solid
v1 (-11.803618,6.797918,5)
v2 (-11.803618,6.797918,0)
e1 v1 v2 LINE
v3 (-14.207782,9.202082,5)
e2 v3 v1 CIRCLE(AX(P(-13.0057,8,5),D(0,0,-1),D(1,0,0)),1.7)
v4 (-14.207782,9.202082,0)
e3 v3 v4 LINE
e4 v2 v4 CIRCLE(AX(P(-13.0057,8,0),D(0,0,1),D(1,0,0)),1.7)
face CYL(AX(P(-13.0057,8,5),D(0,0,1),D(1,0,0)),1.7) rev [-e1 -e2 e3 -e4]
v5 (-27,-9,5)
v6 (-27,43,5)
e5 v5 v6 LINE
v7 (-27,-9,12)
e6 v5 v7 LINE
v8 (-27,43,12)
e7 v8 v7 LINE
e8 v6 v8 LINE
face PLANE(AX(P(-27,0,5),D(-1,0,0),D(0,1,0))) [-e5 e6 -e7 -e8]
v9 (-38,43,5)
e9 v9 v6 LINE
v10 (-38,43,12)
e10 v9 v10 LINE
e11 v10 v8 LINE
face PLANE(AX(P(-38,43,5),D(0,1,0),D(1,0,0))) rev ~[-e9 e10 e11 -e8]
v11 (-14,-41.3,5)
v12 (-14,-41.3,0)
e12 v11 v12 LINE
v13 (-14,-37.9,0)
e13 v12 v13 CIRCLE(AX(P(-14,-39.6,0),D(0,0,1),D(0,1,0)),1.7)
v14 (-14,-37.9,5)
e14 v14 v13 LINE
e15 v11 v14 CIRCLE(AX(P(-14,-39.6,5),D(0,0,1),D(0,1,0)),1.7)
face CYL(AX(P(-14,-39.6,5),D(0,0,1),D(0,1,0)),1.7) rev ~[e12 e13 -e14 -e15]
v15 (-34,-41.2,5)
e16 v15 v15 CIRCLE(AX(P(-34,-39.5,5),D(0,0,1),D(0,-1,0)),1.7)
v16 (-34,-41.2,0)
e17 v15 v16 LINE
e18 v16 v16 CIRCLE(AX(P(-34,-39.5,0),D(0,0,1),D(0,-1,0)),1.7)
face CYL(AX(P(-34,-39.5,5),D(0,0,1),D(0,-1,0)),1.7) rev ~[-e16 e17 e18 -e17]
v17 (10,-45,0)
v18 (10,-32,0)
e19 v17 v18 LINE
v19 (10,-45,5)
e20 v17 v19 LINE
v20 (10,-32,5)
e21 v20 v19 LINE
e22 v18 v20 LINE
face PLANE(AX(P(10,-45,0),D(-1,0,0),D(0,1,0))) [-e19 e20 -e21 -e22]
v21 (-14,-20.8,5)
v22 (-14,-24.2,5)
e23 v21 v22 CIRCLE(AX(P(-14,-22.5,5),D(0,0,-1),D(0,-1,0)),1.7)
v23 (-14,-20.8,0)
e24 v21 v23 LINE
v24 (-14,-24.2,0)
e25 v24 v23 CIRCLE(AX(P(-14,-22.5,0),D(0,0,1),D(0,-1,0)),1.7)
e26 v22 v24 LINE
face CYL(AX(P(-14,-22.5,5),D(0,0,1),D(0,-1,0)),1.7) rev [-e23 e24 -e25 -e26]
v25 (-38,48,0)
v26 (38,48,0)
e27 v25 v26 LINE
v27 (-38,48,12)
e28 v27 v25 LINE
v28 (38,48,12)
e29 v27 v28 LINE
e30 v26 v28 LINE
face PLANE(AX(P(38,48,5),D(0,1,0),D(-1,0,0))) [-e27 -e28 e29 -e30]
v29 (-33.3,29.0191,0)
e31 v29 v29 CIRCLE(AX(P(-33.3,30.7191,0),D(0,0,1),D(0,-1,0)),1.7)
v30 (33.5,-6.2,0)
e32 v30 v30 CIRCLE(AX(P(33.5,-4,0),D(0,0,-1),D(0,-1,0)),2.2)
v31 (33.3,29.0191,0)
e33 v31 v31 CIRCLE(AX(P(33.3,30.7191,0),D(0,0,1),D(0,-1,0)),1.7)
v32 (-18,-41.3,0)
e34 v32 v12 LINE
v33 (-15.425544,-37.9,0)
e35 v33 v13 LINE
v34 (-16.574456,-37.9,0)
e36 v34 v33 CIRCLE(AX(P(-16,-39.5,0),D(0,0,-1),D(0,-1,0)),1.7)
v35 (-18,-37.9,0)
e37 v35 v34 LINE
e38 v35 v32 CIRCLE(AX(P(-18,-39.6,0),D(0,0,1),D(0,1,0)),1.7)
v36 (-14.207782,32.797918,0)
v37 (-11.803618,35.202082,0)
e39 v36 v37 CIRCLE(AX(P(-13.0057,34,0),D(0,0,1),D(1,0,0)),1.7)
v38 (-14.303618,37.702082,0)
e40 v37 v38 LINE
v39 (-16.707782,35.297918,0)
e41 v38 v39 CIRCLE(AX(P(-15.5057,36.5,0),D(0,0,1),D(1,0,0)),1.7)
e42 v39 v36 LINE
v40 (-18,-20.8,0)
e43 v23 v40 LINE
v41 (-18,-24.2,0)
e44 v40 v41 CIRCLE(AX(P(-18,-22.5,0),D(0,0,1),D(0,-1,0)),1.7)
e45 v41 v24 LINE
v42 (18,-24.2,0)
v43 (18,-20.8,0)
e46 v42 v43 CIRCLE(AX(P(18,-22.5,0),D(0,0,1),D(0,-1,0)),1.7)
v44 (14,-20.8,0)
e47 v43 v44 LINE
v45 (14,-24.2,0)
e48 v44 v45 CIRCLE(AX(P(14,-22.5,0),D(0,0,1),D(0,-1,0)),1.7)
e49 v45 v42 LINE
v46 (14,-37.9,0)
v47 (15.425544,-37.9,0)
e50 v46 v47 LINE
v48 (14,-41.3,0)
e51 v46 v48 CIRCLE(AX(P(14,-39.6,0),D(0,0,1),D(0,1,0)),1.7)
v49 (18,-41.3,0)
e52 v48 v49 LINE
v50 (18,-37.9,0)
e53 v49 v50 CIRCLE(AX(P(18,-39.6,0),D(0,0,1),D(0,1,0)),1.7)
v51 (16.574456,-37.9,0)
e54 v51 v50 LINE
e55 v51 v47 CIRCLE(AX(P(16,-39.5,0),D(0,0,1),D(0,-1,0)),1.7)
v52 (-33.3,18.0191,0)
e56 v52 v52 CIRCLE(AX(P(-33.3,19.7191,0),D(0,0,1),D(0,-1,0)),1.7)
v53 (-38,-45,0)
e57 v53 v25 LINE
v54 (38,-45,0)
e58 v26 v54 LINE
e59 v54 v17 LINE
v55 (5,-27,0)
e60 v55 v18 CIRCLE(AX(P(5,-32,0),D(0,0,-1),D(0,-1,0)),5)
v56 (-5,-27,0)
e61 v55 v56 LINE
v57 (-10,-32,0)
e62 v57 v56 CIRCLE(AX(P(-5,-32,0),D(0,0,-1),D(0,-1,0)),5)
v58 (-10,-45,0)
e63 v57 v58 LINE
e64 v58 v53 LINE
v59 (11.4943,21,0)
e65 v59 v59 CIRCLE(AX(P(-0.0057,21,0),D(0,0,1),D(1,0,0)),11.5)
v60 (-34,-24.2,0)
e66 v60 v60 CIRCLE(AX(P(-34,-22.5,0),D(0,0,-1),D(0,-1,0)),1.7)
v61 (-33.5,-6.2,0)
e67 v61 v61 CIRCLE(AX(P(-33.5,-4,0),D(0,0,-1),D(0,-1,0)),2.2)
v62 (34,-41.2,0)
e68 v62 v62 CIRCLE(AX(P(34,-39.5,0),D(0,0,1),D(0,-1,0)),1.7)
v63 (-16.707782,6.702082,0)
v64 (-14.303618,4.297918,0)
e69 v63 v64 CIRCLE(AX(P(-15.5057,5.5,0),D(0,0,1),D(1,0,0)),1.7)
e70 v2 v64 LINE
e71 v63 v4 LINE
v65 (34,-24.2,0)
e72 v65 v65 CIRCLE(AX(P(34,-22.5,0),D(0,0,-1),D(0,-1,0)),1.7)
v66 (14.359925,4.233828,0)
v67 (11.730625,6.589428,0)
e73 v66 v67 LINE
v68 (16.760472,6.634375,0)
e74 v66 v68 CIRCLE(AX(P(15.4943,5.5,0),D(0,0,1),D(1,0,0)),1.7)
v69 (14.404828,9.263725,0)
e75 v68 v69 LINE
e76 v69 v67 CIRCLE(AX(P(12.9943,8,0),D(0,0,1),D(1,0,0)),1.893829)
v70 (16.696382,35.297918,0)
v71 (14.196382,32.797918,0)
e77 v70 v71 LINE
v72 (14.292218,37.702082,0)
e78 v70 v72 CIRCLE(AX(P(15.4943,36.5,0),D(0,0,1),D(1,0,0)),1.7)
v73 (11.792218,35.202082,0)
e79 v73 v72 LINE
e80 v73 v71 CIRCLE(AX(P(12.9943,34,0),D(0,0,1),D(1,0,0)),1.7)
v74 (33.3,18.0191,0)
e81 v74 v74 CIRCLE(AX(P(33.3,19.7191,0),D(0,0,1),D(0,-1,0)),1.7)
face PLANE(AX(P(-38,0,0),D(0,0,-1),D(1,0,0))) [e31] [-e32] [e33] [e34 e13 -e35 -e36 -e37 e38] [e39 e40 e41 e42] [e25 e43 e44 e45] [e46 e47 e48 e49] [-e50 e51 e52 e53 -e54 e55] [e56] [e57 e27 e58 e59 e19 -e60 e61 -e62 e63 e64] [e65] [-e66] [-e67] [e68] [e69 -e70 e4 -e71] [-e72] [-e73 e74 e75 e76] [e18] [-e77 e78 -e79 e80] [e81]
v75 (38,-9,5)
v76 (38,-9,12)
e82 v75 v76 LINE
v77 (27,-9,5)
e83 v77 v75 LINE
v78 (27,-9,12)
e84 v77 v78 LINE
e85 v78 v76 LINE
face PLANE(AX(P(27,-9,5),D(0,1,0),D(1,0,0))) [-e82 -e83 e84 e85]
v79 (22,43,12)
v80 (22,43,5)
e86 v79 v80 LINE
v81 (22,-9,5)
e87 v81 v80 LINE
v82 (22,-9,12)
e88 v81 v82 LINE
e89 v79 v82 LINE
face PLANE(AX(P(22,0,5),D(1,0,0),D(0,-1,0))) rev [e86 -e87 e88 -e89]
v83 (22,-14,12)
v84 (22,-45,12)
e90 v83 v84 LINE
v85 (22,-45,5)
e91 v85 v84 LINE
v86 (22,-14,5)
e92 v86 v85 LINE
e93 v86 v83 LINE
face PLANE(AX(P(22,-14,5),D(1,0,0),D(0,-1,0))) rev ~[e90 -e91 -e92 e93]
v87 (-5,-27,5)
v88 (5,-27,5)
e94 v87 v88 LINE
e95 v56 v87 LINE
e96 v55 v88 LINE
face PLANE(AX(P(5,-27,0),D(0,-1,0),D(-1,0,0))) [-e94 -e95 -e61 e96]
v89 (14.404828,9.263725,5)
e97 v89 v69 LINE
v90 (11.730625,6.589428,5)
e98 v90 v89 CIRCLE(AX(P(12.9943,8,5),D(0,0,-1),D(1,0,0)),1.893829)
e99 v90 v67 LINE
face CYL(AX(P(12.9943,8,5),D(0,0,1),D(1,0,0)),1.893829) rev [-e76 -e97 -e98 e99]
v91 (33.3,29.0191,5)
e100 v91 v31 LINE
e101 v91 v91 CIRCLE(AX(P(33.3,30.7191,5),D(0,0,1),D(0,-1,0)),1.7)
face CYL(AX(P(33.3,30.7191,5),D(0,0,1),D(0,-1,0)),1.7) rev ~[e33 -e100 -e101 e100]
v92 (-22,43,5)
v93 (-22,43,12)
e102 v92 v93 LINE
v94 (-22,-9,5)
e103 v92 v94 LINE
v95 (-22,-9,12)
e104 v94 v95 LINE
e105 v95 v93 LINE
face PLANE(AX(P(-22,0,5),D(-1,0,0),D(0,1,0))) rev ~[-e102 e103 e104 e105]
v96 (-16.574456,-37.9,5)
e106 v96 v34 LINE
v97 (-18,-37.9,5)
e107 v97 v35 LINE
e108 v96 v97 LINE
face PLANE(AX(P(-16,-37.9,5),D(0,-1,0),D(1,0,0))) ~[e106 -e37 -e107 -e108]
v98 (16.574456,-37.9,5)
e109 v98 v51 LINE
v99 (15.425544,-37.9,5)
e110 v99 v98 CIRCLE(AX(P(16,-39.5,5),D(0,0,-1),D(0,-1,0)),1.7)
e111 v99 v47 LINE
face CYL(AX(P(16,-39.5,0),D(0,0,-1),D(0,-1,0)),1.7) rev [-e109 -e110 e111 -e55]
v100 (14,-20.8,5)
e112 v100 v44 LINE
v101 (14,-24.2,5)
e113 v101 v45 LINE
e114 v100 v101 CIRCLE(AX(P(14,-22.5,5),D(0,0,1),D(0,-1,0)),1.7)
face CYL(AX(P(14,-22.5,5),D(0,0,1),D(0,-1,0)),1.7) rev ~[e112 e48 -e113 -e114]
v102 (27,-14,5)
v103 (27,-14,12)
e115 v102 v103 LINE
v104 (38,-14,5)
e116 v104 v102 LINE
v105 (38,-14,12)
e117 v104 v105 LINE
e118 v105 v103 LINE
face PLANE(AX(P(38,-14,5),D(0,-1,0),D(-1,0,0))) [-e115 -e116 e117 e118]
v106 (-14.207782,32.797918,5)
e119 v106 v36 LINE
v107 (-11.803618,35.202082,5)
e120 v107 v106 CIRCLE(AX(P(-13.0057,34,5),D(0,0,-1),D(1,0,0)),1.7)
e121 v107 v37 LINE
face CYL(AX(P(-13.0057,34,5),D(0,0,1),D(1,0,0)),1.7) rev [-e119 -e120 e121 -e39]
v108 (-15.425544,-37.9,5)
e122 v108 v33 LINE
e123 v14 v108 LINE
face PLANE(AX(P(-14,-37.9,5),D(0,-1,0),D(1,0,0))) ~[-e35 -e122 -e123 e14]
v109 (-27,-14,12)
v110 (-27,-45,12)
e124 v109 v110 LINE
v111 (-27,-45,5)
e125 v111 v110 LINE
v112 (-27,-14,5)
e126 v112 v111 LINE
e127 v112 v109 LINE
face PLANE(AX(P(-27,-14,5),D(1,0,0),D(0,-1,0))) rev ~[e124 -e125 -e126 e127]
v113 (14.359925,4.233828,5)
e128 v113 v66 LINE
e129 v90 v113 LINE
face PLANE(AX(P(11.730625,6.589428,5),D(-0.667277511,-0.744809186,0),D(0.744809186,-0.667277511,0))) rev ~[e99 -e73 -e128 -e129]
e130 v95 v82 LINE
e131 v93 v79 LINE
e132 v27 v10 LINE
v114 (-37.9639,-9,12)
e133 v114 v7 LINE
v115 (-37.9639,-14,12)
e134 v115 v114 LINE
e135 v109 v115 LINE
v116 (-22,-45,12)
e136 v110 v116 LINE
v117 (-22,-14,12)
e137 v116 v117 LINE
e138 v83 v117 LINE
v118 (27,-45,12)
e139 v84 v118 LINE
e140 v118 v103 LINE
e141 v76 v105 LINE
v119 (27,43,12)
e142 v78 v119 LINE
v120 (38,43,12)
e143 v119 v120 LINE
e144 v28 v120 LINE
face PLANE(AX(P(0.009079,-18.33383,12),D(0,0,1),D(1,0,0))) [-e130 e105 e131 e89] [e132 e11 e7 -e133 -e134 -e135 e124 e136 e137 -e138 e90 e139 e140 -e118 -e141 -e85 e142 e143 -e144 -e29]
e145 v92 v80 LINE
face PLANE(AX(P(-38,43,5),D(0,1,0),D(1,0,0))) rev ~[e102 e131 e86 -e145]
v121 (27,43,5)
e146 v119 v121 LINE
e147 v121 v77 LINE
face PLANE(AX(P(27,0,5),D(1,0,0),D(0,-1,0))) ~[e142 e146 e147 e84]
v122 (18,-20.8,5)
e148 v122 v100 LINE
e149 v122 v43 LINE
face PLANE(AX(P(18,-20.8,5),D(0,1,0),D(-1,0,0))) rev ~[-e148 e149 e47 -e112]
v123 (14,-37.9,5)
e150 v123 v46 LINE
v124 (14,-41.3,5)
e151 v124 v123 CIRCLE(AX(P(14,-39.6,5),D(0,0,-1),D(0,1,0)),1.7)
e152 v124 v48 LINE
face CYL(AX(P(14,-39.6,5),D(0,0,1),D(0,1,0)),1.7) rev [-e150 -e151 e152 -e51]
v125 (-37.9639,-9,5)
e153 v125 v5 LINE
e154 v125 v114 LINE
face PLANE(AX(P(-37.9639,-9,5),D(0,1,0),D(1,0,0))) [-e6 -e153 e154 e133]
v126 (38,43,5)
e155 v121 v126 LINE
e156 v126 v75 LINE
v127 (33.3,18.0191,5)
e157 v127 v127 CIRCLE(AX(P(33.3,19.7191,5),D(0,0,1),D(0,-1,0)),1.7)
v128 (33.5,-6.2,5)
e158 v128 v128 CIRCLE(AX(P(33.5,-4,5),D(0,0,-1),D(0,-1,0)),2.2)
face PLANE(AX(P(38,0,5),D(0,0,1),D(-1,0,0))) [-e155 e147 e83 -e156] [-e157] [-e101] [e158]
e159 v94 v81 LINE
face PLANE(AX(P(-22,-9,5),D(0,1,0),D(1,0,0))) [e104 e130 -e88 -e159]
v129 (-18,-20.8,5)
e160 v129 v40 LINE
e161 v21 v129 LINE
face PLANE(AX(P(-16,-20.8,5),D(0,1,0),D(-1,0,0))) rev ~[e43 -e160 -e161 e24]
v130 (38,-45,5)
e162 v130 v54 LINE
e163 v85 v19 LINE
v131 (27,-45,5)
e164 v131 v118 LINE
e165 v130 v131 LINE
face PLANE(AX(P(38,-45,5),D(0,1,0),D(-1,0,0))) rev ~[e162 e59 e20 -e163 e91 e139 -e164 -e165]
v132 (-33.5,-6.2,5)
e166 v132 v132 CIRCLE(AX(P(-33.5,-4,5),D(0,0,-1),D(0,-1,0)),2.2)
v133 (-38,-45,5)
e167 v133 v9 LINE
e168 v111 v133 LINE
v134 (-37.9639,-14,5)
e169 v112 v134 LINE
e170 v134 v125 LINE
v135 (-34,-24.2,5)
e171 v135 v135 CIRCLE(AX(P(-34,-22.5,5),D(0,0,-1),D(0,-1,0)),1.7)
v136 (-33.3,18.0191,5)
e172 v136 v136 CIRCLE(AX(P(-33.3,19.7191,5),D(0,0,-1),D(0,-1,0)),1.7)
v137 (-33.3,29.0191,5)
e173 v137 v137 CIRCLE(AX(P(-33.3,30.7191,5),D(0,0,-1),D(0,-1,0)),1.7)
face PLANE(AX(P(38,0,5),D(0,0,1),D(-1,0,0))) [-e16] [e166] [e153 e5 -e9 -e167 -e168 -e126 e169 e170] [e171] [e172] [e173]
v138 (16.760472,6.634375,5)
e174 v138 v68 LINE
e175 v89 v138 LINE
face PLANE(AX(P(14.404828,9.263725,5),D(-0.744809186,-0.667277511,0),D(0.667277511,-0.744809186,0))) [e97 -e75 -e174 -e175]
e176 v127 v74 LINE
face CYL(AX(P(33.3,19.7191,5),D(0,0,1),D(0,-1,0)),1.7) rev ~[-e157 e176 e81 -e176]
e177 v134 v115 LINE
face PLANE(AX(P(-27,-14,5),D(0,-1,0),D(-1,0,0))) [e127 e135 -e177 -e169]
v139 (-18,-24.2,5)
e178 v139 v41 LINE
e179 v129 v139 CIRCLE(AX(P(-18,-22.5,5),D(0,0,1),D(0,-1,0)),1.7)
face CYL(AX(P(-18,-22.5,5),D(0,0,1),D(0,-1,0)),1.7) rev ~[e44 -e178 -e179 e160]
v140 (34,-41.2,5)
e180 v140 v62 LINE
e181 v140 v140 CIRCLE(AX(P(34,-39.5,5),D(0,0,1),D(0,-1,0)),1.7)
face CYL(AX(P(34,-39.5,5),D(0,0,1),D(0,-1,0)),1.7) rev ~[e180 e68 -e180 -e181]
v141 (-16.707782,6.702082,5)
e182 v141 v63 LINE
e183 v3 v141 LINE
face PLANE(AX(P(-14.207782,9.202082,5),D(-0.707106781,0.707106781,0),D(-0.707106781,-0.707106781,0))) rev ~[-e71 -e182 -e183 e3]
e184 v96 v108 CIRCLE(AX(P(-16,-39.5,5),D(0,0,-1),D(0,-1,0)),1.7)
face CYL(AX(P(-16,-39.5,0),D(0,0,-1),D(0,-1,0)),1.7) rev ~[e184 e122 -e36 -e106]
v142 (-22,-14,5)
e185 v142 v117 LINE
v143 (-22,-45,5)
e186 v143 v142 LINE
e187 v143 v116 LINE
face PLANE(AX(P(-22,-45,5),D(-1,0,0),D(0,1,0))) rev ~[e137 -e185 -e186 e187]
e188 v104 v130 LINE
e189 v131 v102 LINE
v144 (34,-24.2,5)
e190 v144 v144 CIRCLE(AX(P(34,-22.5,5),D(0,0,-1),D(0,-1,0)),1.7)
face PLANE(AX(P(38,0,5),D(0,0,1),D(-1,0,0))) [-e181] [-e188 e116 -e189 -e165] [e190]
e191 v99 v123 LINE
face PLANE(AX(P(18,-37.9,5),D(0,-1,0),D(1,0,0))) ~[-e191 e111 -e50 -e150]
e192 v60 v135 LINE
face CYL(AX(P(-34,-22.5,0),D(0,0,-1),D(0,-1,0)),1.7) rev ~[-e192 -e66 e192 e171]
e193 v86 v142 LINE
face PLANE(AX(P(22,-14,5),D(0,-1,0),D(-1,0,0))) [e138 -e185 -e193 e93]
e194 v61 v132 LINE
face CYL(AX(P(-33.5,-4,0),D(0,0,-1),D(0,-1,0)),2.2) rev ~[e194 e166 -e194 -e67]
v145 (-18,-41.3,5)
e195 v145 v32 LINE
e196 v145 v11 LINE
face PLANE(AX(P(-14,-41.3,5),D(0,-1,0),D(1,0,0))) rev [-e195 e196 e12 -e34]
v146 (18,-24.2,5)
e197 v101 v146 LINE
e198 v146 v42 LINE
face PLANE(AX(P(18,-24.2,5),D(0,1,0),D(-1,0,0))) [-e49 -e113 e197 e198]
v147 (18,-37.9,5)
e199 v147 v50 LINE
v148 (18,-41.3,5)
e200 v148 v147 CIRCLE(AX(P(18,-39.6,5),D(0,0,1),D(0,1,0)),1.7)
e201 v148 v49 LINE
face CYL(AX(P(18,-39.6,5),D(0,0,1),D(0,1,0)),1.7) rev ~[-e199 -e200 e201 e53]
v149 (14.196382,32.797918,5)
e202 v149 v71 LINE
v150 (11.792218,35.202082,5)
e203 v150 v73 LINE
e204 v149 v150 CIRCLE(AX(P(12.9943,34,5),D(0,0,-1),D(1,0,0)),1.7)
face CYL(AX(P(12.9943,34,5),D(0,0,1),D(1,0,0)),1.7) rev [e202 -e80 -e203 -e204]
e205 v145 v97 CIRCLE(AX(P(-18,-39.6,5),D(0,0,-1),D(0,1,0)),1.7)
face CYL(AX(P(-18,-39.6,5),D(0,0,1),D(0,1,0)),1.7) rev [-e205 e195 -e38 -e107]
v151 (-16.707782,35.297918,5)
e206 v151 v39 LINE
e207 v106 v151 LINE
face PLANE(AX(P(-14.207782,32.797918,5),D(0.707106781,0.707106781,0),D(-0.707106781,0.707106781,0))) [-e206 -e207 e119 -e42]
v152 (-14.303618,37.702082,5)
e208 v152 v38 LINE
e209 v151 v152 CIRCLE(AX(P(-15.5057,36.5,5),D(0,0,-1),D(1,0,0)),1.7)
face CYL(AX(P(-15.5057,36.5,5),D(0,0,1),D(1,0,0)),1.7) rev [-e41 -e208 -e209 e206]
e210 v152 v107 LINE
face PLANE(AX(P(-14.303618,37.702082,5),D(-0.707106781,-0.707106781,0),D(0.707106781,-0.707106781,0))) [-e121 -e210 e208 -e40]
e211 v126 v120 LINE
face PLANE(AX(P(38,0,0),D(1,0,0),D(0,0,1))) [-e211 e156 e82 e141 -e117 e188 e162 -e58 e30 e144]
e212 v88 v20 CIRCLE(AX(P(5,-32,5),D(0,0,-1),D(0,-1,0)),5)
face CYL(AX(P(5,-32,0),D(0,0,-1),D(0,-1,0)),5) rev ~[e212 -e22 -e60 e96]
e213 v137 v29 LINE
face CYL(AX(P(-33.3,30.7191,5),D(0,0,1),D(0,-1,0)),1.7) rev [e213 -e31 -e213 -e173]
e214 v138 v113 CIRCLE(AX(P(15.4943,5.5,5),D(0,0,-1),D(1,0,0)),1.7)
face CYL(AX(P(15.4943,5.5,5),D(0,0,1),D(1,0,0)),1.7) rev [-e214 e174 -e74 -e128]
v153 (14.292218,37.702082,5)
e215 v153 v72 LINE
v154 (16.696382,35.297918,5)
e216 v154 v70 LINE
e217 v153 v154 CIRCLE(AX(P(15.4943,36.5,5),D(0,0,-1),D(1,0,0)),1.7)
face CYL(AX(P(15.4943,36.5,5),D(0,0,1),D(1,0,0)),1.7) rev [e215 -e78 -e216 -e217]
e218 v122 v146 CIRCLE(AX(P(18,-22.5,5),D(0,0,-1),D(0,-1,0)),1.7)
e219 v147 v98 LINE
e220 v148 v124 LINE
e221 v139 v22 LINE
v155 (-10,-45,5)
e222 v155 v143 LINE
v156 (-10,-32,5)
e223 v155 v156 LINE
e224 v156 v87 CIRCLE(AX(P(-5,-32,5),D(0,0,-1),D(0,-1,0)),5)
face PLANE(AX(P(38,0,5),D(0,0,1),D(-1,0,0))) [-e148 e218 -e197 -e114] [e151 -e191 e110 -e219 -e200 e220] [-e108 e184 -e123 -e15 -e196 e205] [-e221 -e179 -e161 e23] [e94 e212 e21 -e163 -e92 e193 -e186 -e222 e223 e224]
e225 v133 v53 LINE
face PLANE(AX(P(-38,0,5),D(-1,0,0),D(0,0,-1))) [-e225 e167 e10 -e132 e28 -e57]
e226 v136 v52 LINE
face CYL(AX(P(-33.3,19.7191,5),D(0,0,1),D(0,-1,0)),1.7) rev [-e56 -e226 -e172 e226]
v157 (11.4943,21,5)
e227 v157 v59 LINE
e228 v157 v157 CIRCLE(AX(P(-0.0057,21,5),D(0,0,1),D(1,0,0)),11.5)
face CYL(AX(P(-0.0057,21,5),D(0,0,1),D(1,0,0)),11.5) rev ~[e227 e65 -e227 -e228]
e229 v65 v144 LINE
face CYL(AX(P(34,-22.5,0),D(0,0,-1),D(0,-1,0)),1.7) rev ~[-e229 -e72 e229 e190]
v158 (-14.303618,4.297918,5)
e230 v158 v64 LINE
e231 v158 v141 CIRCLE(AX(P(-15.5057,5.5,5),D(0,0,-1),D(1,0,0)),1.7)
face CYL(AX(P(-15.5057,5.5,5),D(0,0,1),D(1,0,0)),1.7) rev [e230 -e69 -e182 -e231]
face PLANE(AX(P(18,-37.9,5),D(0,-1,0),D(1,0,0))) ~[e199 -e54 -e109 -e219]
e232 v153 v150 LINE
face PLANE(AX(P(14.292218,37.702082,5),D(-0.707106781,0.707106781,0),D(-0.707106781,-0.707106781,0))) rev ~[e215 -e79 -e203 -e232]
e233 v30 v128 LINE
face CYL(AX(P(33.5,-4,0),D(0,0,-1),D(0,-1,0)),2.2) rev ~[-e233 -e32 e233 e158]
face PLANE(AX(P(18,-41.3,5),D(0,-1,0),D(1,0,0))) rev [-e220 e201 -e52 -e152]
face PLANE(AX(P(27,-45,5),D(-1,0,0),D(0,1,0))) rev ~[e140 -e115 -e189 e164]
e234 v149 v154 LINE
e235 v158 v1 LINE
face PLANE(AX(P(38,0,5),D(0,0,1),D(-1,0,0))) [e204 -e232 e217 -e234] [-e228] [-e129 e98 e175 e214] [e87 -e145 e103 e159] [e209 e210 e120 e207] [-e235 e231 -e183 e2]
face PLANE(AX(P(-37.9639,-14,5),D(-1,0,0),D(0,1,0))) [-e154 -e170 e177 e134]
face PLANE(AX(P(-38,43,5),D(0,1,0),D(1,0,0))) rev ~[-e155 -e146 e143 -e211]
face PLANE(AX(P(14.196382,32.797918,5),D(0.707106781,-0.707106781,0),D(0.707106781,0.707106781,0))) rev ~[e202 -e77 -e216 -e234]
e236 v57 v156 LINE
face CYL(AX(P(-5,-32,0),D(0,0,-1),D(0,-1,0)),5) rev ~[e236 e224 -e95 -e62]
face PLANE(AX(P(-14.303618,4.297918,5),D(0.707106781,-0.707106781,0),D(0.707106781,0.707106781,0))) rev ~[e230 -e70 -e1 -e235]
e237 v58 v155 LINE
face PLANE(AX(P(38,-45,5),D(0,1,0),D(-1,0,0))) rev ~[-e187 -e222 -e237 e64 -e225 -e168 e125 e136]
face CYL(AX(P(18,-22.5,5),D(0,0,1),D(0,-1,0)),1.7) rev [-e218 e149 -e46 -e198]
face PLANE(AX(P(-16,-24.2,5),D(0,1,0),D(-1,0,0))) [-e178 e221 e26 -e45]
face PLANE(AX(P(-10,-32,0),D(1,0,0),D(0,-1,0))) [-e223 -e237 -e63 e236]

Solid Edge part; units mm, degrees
sketch "Sketch1" plane through (0, 0, 0) normal (0, -1, 0) x (1, 0, 0)
  line L0 (-38, 0) -> (38, 0)
  line L1 (38, 0) -> (38, 5)
  line L2 (38, 5) -> (-38, 5)
  line L3 (-38, 5) -> (-38, 0)
  dimension "D1" = 72
  dimension "D2" = 5
  dimension "D3" = 76
extrude "Protrusion1" add sketch "Sketch1" against normal blind 62
sketch "Sketch2" plane through (0, 30, 5) normal (0, 0, 1) x (-1, 0, 0)
  circle A0 centre (-12.5, -23) radius 2.2
  circle A1 centre (12.5, -23) radius 2.2
  circle A2 centre (33.5, -23) radius 2.2
  circle A3 centre (-33.5, -23) radius 2.2
  dimension "D1" = 4.4
  dimension "D2" = 4.4
  dimension "D3" = 4.4
  dimension "D4" = 4.4
extrude "ExtrudedCutout_3" cut sketch "Sketch2" against normal blind 110
sketch "Sketch3" plane through (0, 30, 5) normal (0, 0, 1) x (0, 1, 0)
  line L0 (-30, 22) -> (32, 22)
  line L1 (32, 22) -> (32, 27)
  line L2 (-30, 27) -> (32, 27)
  line L3 (-30, 22) -> (-30, 27)
  dimension "D1" = 1
  dimension "D2" = 5
extrude "ExtrudedProtrusion_4" add sketch "Sketch3" along normal blind 5
mirror "Mirror1" about plane through (0, 0, 0) normal (1, 0, 0) of "ExtrudedProtrusion_4"
sketch "Sketch4" plane through (0, 30, 5) normal (0, 0, 1) x (-1, 0, 0)
  line L0 (38, -13) -> (-38, -13)
  line L1 (-38, -18) -> (-38, -13)
  line L2 (38, -18) -> (-38, -18)
  line L3 (38, -18) -> (38, -13)
  dimension "D1" = 1
  dimension "D2" = 5
extrude "ExtrudedProtrusion_6" add sketch "Sketch4" along normal blind 7
sketch "Sketch5" plane through (0, 21.5, 5) normal (0, 0, 1) x (1, 0, 0)
  line L0 (-14.3036, 16.2021) -> (-11.8036, 13.7021)
  arc A0 (-11.8036, 13.7021) -> (-14.2078, 11.2979) centre (-13.0057, 12.5) cw
  line L1 (-14.2078, 11.2979) -> (-16.7078, 13.7979)
  arc A1 (-16.7078, 13.7979) -> (-14.3036, 16.2021) centre (-15.5057, 15) cw
  line L2 (-14.2078, -12.2979) -> (-16.7078, -14.7979)
  arc A2 (-14.3036, -17.2021) -> (-16.7078, -14.7979) centre (-15.5057, -16) cw
  line L3 (-14.3036, -17.2021) -> (-11.8036, -14.7021)
  arc A3 (-14.2078, -12.2979) -> (-11.8036, -14.7021) centre (-13.0057, -13.5) cw
  line L4 (11.7306, -14.9106) -> (14.3599, -17.2662)
  arc A4 (16.7605, -14.8656) -> (14.3599, -17.2662) centre (15.4943, -16) cw
  line L5 (14.4048, -12.2363) -> (16.7605, -14.8656)
  arc A5 (11.7306, -14.9106) -> (14.4048, -12.2363) centre (12.9943, -13.5) cw
  line L6 (14.2922, 16.2021) -> (11.7922, 13.7021)
  arc A6 (14.1964, 11.2979) -> (11.7922, 13.7021) centre (12.9943, 12.5) cw
  line L7 (14.1964, 11.2979) -> (16.6964, 13.7979)
  arc A7 (14.2922, 16.2021) -> (16.6964, 13.7979) centre (15.4943, 15) cw
  circle A8 centre (-0.0057, -0.5) radius 11.5
  dimension "D1" = 23
  dimension "D2" = 12
  dimension "D3" = 16
  dimension "D4" = 15.5
  dimension "D5" = 3.4
  dimension "D6" = 3.4
  dimension "D7" = 3.4
  dimension "D8" = 3.4
  dimension "D9" = 42
  dimension "D10" = 42
extrude "Cutout1" cut sketch "Sketch5" against normal through all
sketch "Sketch6" plane through (32.5, 21.5, 5) normal (0, 0, 1) x (0, -1, 0)
  line L0 (21.5, 5.5) -> (66.5, 5.5)
  line L1 (66.5, 5.5) -> (66.5, -70.5)
  line L2 (66.5, -70.5) -> (21.5, -70.5)
  line L3 (21.5, -70.5) -> (21.5, 5.5)
  dimension "D1" = 45
extrude "Protrusion3" add sketch "Sketch6" against normal up to vertex (5 mm away)
sketch "Sketch7" plane through (0, 9.5, 5) normal (0, 0, 1) x (0, -1, 0)
  circle A0 centre (49, -34) radius 1.7
  circle A1 centre (49, 34) radius 1.7
  dimension "D1" = 49
  dimension "D2" = 49
extrude "ExtrudedCutout_9" cut sketch "Sketch7" against normal blind 143.3279
sketch "Sketch8" plane through (0, 19, 0) normal (0, 0, -1) x (0, -1, 0)
  circle A0 centre (58.5, 16) radius 1.7
  dimension "D1" = 9
extrude "ExtrudedCutout_10" cut sketch "Sketch8" against normal blind 316.0197
mirror "Mirror2" about plane through (0, 0, 0) normal (1, 0, 0) of "ExtrudedCutout_10"
sketch "Sketch9" plane through (0, 19, 0) normal (0, 0, -1) x (0, -1, 0)
  circle A0 centre (41.5, 16) radius 1.7
  circle A1 centre (41.5, -16) radius 1.7
  circle A2 centre (41.5, -34) radius 1.7
  circle A3 centre (41.5, 34) radius 1.7
  dimension "D1" = 17
  dimension "D2" = 17
extrude "ExtrudedCutout_11" cut sketch "Sketch9" against normal blind 37.4845
sketch "Sketch10" plane through (0, 55, 5) normal (0, 0, 1) x (0, -1, 0)
  line L0 (-7, 38) -> (7, 38)
  line L1 (7, 38) -> (7, -51.7338)
  line L2 (7, -51.7338) -> (-7, -51.7338)
  line L3 (-7, -51.7338) -> (-7, 38)
extrude "ExtrudedCutout_12" cut sketch "Sketch10" against normal blind 91.7973 and the other way blind 101.9208
sketch "Sketch11" plane through (0, 6.15, 0) normal (0, 0, -1) x (0, -1, 0)
  circle A0 centre (10.15, -33.5) radius 2.2
  circle A1 centre (10.15, 33.5) radius 2.2
  dimension "D1" = 4.4
  dimension "D2" = 4.5
  dimension "D3" = 2.3
  dimension "D4" = 4.5
  dimension "D5" = 10
extrude "ExtrudedCutout_13" cut sketch "Sketch11" against normal blind 103.1381
sketch "Sketch12" plane through (0, 6.15, 0) normal (0, 0, -1) x (0, -1, 0)
  line L0 (51.15, 10) -> (51.15, -10)
  line L1 (51.15, -10) -> (38.15, -10)
  arc A0 (33.15, -5) -> (38.15, -10) centre (38.15, -5) ccw
  line L2 (33.15, -5) -> (33.15, 5)
  arc A1 (38.15, 10) -> (33.15, 5) centre (38.15, 5) ccw
  line L3 (38.15, 10) -> (51.15, 10)
  dimension "D1" = 28
  dimension "D2" = 28
  dimension "D3" = 18
  dimension "D4" = 5
  dimension "D5" = 5
extrude "ExtrudedCutout_15" cut sketch "Sketch12" against normal blind 370.0743
sketch "Sketch13" plane through (0, -1, 5) normal (0, 0, 1) x (0, -1, 0)
  line L0 (-1, 27) -> (-1, 22)
  line L1 (-1, 22) -> (8, 22)
  line L2 (8, -22) -> (8, 22)
  line L3 (8, -22) -> (-1, -22)
  line L4 (-1, -22) -> (-1, -27)
  line L5 (-1, -27) -> (8, -27)
  line L6 (8, -37.9639) -> (8, -27)
  line L7 (13, -37.9639) -> (8, -37.9639)
  line L8 (13, -27) -> (13, -37.9639)
  line L9 (13, -27) -> (44, -27)
  line L10 (44, -27) -> (44, -22)
  line L11 (44, -22) -> (13, -22)
  line L12 (13, 22) -> (13, -22)
  line L13 (13, 22) -> (44, 22)
  line L14 (44, 22) -> (44, 27)
  line L15 (44, 27) -> (13, 27)
  line L16 (13, 38) -> (13, 27)
  line L17 (8, 38) -> (13, 38)
  line L18 (8, 27) -> (8, 38)
  line L19 (8, 27) -> (-1, 27)
  dimension "D1" = 5
  dimension "D2" = 5
  dimension "D3" = 5
  dimension "D4" = 36
  dimension "D5" = 5
extrude "ExtrudedProtrusion_8" add sketch "Sketch13" along normal blind 7
sketch "Sketch14" plane through (-24.5, 21.5, 10) normal (0, 0, 1) x (0, -1, 0)
  line L0 (21.5, 51.5) -> (-21.5, 51.5)
  line L1 (-21.5, 46.5) -> (-21.5, 51.5)
  line L2 (-21.5, 46.5) -> (21.5, 46.5)
  line L3 (21.5, 51.5) -> (21.5, 46.5)
  line L4 (21.5, -2.5) -> (-21.5, -2.5)
  line L5 (-21.5, 2.5) -> (-21.5, -2.5)
  line L6 (-21.5, 2.5) -> (21.5, 2.5)
  line L7 (21.5, -2.5) -> (21.5, 2.5)
extrude "ExtrudedProtrusion_9" add sketch "Sketch14" along normal blind 2
sketch "Sketch15" plane through (0, -29.5, 5) normal (0, 0, 1) x (0, -1, 0)
  line L0 (-8.7, -16) -> (-8.7, -18)
  arc A0 (-8.7, -18) -> (-5.3, -18) centre (-7, -18) ccw
  line L1 (-5.3, -16) -> (-5.3, -18)
  line L2 (-5.3, -14) -> (-5.3, -16)
  arc A1 (-8.7, -14) -> (-5.3, -14) centre (-7, -14) cw
  line L3 (-8.7, -14) -> (-8.7, -16)
  line L4 (-8.7, 18) -> (-8.7, 14)
  arc A2 (-8.7, 14) -> (-5.3, 14) centre (-7, 14) ccw
  line L5 (-5.3, 18) -> (-5.3, 14)
  arc A3 (-8.7, 18) -> (-5.3, 18) centre (-7, 18) cw
  dimension "D1" = 2
  dimension "D2" = 2
  dimension "D3" = 2
  dimension "D4" = 2
  dimension "D5" = 24.2
extrude "ExtrudedCutout_16" cut sketch "Sketch15" against normal blind 2209.1975
mirror "Mirror3" about plane through (24, -36.5, 6) normal (0, -1, 0) of "ExtrudedCutout_16"
mirror "Mirror4" about plane through (24, -31.05, 6) normal (0, -1, 0) of "ExtrudedCutout_16"
sketch "Sketch16" plane through (32.5, 17, 5) normal (0, 0, 1) x (0, -1, 0)
  circle A0 centre (-2.7191, 0.8) radius 1.7
  circle A1 centre (-13.7191, 0.8) radius 1.7
  dimension "D1" = 3
  dimension "D2" = 3
  dimension "D3" = 11
extrude "Cutout4" cut sketch "Sketch16" against normal blind 130.0202
mirror "Mirror5" about plane through (0, 1.5, 6) normal (-1, 0, 0) of "Cutout4"
properties material "ABS Plastic, medium impact"
